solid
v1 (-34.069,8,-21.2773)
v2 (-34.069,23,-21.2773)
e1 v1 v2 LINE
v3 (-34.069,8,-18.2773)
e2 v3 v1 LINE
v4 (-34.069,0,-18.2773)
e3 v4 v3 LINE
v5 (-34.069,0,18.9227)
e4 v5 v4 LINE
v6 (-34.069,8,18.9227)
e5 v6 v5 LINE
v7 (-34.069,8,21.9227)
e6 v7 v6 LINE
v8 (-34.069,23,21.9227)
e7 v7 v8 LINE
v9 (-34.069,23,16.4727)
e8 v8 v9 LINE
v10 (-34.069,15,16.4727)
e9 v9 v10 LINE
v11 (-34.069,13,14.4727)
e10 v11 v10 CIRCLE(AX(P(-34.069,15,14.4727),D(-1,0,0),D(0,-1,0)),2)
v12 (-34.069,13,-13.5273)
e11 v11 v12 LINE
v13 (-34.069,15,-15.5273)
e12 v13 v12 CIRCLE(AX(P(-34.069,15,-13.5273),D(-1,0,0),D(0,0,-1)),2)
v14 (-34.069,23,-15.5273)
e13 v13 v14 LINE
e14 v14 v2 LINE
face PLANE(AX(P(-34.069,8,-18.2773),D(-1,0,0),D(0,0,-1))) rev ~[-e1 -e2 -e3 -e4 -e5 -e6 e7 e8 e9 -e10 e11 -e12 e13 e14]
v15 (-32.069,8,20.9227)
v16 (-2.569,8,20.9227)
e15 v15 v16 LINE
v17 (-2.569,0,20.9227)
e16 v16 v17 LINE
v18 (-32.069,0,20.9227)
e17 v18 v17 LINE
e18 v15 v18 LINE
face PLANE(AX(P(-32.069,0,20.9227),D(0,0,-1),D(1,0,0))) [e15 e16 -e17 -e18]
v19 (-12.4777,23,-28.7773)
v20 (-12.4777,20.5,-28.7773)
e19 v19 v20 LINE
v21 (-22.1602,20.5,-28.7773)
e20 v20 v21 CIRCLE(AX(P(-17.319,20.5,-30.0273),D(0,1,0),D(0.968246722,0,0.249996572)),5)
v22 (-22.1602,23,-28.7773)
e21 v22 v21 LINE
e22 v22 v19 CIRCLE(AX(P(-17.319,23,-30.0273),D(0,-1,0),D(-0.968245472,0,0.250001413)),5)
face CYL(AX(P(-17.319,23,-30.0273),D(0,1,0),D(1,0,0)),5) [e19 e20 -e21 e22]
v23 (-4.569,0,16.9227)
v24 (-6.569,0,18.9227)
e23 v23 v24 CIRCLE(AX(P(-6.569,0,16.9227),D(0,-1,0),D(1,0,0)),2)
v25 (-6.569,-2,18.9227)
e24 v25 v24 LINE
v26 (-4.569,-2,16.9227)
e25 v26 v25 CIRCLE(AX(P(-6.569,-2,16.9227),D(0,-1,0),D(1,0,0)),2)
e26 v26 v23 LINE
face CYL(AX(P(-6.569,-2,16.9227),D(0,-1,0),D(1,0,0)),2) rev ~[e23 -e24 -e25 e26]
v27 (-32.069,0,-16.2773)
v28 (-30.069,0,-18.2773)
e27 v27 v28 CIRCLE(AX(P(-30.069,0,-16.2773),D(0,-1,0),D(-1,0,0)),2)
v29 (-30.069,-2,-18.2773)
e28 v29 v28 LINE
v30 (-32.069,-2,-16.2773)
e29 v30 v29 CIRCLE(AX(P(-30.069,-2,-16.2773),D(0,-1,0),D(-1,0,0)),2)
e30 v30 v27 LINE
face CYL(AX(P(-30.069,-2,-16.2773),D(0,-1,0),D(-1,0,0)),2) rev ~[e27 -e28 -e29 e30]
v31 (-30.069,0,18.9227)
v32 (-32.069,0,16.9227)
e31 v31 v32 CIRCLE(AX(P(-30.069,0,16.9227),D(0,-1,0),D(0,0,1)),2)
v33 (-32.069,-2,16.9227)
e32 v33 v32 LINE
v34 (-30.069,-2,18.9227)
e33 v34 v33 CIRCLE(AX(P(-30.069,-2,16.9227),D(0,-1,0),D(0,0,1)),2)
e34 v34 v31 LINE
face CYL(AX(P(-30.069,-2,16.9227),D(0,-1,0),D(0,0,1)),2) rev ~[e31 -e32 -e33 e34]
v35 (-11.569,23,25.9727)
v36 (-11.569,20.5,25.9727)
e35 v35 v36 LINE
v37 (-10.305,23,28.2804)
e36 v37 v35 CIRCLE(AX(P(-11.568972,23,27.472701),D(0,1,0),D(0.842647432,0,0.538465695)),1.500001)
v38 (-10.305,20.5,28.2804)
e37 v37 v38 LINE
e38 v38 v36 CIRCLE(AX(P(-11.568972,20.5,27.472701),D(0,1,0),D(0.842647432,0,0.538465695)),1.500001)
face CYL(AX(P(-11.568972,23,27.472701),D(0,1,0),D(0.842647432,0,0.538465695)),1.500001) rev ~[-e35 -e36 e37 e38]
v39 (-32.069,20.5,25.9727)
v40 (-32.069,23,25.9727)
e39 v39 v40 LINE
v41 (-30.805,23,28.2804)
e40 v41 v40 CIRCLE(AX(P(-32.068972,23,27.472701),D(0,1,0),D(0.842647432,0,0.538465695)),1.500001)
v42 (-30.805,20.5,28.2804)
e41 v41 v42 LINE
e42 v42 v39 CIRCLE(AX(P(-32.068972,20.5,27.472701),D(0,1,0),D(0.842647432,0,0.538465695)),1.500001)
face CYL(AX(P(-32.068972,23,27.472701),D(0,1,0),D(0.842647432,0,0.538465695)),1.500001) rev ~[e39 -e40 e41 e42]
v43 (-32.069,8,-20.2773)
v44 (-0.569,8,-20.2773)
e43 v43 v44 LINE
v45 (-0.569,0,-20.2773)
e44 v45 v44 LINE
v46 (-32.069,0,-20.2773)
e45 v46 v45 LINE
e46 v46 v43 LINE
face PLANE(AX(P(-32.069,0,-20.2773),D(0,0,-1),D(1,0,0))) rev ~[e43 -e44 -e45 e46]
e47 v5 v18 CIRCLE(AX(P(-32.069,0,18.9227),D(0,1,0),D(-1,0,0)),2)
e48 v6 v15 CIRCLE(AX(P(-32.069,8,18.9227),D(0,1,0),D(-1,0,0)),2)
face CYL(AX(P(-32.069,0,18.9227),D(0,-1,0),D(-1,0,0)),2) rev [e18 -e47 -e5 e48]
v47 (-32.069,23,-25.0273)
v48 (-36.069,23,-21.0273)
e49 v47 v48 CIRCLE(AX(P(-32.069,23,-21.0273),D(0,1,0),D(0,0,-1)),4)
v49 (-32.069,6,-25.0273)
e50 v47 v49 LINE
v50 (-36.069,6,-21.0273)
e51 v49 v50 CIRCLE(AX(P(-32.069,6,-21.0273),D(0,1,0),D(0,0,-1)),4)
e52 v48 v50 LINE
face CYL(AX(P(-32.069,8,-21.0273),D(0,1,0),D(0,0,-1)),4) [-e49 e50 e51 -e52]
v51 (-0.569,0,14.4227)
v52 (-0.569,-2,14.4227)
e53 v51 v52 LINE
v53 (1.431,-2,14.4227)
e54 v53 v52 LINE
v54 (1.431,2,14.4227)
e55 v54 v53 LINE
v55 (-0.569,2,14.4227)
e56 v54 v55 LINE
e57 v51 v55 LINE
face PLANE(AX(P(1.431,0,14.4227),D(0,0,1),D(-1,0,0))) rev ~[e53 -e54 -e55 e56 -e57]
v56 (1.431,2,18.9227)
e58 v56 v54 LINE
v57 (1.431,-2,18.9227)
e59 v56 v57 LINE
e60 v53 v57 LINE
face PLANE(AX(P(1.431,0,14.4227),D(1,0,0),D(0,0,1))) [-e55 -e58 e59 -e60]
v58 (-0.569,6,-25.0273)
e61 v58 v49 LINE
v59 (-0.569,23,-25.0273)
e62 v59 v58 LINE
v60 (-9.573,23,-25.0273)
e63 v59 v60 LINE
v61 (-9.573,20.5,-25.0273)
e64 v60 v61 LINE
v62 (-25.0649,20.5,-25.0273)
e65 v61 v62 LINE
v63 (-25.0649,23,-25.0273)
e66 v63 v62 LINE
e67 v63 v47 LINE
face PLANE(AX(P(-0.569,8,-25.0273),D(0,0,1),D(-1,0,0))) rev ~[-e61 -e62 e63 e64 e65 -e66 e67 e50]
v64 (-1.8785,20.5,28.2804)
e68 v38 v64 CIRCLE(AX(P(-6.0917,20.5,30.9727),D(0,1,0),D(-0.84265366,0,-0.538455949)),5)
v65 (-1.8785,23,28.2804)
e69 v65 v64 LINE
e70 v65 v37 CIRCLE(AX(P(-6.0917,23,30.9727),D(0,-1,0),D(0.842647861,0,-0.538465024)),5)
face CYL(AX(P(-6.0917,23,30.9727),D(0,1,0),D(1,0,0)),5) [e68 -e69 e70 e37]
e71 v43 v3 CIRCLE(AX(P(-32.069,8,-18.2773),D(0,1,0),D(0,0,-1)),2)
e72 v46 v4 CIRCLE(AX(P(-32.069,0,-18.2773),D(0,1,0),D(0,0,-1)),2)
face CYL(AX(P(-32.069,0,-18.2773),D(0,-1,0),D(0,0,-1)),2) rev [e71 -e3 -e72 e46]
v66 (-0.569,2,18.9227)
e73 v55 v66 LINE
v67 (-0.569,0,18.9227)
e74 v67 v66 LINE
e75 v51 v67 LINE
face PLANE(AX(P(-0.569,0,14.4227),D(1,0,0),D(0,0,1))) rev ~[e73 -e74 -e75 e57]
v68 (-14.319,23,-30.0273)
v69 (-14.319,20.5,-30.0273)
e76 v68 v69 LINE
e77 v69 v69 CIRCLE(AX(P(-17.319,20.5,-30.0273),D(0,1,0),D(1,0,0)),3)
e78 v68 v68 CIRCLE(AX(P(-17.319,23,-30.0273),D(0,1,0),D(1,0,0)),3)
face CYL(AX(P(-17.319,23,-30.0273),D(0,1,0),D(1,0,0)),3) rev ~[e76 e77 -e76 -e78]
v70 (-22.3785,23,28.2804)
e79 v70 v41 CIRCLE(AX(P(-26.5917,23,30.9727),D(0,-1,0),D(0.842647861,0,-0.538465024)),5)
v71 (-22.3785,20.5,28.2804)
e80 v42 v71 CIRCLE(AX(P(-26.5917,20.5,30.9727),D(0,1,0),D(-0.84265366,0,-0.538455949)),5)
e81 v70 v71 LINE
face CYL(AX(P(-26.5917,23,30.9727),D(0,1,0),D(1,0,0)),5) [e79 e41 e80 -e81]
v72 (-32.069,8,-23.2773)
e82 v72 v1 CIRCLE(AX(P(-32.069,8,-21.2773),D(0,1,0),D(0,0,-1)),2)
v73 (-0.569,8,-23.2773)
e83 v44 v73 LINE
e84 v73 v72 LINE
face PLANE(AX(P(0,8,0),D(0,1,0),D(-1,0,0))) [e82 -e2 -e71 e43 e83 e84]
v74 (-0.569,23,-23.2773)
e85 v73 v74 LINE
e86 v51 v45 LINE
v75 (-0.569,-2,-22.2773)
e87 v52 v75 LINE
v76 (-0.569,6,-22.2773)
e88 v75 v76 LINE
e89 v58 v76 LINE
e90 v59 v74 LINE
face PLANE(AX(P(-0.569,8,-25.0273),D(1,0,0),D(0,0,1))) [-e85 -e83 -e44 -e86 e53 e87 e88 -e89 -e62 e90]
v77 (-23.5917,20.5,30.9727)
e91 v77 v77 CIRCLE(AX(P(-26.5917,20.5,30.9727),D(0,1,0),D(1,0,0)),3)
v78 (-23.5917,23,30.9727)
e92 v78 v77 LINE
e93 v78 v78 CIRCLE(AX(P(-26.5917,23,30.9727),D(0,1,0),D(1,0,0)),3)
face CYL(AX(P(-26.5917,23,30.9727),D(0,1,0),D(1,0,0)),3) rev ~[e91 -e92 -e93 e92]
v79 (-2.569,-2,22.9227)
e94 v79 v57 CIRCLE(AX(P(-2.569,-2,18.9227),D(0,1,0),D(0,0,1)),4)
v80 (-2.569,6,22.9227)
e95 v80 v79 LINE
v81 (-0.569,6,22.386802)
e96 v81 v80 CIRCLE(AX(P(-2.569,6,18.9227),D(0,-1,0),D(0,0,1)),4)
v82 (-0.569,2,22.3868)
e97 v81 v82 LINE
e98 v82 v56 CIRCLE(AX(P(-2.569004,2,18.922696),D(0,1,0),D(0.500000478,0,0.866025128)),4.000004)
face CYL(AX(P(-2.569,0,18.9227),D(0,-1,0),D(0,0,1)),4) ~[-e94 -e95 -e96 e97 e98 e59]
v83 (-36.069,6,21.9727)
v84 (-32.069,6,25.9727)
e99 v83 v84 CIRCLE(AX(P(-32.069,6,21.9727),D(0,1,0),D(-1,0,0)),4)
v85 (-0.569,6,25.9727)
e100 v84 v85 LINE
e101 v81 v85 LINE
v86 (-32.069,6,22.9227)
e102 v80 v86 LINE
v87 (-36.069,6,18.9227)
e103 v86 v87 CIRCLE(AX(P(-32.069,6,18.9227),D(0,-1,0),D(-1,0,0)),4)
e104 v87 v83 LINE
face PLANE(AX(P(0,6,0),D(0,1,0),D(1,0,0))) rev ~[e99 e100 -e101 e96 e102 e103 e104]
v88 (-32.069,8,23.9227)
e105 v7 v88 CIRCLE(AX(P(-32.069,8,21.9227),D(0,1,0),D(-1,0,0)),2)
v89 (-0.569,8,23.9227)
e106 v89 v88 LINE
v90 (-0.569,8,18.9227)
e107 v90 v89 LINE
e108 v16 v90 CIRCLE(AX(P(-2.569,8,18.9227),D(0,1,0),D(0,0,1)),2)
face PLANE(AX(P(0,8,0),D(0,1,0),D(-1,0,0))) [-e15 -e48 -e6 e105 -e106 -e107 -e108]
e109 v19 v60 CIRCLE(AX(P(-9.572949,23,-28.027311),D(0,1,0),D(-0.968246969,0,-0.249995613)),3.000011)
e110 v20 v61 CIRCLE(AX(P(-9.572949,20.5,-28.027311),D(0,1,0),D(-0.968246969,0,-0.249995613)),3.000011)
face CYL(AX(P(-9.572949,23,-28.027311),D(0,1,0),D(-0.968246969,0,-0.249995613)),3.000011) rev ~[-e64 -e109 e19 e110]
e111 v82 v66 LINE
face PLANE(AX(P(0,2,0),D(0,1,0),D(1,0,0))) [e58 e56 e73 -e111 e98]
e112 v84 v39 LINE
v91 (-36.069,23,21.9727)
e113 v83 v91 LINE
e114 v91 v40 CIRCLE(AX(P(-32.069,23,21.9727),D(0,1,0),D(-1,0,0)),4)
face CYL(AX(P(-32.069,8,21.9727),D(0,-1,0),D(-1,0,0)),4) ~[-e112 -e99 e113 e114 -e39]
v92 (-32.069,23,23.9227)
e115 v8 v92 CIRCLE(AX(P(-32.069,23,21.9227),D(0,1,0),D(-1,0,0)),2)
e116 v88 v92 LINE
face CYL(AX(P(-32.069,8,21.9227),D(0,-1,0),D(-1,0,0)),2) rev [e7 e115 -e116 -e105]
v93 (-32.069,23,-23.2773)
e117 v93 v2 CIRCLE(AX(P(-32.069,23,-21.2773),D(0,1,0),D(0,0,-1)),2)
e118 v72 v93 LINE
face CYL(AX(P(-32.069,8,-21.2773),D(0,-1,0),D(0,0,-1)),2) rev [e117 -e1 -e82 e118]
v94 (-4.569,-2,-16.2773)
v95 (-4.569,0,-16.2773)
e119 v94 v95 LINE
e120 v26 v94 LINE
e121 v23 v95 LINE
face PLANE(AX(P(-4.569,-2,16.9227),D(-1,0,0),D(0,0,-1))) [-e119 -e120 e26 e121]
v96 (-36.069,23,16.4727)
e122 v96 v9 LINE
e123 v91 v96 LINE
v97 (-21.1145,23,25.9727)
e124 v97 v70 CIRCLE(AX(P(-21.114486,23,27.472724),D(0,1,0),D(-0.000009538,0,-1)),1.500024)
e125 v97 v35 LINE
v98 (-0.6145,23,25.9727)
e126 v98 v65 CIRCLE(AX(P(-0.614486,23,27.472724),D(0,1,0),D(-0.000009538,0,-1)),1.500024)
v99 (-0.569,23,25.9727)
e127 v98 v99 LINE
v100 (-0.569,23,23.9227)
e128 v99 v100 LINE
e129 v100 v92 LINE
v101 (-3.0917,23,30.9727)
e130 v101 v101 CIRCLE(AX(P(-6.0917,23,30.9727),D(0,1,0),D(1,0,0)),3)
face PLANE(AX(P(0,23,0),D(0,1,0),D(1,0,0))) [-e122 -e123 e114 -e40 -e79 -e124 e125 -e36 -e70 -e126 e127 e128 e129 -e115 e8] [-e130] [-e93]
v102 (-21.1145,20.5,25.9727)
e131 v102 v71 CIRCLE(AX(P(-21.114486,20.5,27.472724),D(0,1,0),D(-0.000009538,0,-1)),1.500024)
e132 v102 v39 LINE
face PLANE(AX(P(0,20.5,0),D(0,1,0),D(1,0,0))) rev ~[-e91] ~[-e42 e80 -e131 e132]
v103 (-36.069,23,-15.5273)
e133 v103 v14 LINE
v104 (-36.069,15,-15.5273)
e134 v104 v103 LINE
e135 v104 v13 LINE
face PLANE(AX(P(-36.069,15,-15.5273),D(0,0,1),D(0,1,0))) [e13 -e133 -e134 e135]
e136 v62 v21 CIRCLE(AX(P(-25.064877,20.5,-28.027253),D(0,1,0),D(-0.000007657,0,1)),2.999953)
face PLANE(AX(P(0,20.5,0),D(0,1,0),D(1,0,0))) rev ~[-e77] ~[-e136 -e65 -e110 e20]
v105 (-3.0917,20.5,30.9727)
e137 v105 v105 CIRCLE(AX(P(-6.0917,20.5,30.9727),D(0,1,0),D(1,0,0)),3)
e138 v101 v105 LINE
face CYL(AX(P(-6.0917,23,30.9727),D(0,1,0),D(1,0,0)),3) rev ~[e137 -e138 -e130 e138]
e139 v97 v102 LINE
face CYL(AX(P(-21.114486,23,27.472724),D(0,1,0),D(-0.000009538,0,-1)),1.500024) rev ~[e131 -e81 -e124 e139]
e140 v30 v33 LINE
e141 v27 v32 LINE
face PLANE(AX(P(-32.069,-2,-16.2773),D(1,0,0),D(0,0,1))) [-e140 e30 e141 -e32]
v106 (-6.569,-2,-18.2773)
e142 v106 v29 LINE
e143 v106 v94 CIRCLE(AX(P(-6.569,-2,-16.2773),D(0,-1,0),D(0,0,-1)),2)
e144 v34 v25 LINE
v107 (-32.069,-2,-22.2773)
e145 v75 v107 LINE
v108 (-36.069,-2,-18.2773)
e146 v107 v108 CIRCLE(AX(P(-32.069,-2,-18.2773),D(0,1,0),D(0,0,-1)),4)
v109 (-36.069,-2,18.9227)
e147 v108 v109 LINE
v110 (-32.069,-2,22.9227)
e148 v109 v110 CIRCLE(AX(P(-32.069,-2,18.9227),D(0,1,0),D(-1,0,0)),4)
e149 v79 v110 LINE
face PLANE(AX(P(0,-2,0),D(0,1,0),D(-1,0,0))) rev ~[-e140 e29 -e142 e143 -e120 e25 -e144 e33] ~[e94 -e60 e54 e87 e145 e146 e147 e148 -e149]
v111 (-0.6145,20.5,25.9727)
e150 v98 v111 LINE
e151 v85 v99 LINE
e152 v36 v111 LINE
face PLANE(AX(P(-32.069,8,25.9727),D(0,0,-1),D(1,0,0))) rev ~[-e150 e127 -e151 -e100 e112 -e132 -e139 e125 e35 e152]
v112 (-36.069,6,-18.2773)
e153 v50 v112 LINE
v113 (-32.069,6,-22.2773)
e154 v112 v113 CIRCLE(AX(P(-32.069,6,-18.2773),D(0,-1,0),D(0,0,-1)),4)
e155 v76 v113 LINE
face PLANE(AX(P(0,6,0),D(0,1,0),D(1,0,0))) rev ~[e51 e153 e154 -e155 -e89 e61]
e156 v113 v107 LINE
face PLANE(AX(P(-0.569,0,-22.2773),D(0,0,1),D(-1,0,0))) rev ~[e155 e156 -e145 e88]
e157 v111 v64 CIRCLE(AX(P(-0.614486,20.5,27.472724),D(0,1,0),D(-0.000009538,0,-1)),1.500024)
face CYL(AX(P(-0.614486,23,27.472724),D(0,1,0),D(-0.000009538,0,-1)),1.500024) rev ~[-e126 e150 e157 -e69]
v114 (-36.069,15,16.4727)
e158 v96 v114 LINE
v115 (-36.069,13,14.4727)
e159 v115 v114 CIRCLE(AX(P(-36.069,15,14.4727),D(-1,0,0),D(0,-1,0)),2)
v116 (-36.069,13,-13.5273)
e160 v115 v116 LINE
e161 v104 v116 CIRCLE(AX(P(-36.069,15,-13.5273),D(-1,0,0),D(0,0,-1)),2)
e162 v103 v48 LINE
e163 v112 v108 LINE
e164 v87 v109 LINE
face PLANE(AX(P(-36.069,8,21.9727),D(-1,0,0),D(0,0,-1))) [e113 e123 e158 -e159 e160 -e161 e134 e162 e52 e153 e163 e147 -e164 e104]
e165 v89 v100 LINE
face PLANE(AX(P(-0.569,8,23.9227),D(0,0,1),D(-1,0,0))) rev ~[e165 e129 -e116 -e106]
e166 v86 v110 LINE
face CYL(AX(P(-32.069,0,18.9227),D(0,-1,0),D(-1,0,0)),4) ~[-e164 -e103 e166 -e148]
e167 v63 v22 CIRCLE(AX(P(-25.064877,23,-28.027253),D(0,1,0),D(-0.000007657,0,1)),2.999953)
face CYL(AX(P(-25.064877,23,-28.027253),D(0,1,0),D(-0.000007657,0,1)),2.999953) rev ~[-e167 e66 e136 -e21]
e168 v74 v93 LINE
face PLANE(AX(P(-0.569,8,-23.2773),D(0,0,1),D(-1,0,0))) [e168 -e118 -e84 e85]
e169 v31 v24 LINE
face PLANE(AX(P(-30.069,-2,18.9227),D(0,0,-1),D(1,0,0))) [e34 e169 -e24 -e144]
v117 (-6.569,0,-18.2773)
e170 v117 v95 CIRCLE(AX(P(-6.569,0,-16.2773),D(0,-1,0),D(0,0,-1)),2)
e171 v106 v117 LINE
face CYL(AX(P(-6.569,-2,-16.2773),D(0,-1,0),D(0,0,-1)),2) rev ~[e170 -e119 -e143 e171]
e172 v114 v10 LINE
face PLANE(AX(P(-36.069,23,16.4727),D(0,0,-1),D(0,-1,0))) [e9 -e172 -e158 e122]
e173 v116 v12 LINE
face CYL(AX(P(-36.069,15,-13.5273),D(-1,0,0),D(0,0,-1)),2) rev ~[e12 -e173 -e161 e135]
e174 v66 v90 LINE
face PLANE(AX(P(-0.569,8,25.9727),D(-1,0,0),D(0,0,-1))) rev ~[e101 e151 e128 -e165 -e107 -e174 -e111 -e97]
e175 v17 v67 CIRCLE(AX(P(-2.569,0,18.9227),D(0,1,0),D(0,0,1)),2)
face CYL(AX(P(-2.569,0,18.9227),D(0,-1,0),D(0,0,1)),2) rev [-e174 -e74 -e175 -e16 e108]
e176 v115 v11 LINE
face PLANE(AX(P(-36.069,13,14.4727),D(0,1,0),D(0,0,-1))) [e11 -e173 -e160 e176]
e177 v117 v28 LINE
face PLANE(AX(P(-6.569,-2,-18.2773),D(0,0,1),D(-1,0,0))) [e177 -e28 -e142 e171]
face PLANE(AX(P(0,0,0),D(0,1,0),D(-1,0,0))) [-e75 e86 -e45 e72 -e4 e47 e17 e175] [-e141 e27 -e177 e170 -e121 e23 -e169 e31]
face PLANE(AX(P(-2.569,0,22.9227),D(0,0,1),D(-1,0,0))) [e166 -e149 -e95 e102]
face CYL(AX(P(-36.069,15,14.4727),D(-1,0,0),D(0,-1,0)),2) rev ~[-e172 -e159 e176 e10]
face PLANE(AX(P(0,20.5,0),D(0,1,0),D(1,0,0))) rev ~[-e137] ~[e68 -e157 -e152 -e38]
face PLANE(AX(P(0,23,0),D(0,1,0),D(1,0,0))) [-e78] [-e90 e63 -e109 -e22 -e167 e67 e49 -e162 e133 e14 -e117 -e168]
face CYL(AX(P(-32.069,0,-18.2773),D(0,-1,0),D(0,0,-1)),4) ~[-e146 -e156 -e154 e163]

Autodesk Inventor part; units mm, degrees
ref_plane "YZ Plane" through (0, 0, 0) normal (1, 0, 0) x (0, 1, 0)
ref_plane "XZ Plane" through (0, 0, 0) normal (0, 1, 0) x (-1, 0, 0)
sketch "Sketch1" plane through (0, 0, 0) normal (0, 1, 0) x (-1, 0, 0)
  arc A0 (31.569, 13.7227) -> (30.069, 12.2227) centre (31.569, 12.2227) ccw
  line L0 (31.569, 13.7227) -> (34.069, 13.7227)
  line L1 (34.069, 13.7227) -> (34.069, 18.9227)
  line L2 (32.069, 20.9227) -> (2.569, 20.9227)
  line L3 (34.069, -13.2773) -> (31.569, -13.2773)
  arc A1 (30.069, -11.7773) -> (31.569, -13.2773) centre (31.569, -11.7773) ccw
  arc A2 (34.069, 18.9227) -> (32.069, 20.9227) centre (32.069, 18.9227) ccw
  arc A3 (34.0195, 22.4149) -> (32.069, 23.9727) centre (32.069, 21.9727) ccw
  line L4 (32.069, 23.9727) -> (-23.931, 23.9727)
  arc A4 (-23.931, 23.9727) -> (-25.931, 21.9727) centre (-23.931, 21.9727) ccw
  line L5 (-25.931, 21.9727) -> (-25.931, -21.0273)
  arc A5 (-25.931, -21.0273) -> (-23.931, -23.0273) centre (-23.931, -21.0273) ccw
  line L6 (-23.931, -23.0273) -> (32.069, -23.0273)
  arc A6 (32.069, -23.0273) -> (33.899, -21.8341) centre (32.069, -21.0273) ccw
  arc A7 (32.069, -20.2773) -> (34.069, -18.2773) centre (32.069, -18.2773) ccw
  line L7 (32.069, -20.2773) -> (0.569, -20.2773)
  line L8 (34.069, -13.2773) -> (34.069, 13.7227)
  line L9 (0.569, -22.2773) -> (0.569, 18.9227)
  line L10 (30.069, -11.7773) -> (30.069, 12.2227)
  line L11 (34.069, -18.2773) -> (34.069, -13.2773)
  line L12 (2.569, 22.9227) -> (32.069, 22.9227)
  line L13 (0.569, -22.2773) -> (32.069, -22.2773)
  arc A8 (32.069, -22.2773) -> (36.069, -18.2773) centre (32.069, -18.2773) ccw
  line L14 (36.069, -18.2773) -> (36.069, 18.9227)
  arc A9 (2.569, 20.9227) -> (0.569, 18.9227) centre (2.569, 18.9227) ccw
  line L15 (-1.431, 14.4227) -> (-1.431, 18.9227)
  arc A10 (2.569, 22.9227) -> (-1.431, 18.9227) centre (2.569, 18.9227) ccw
  arc A11 (36.069, 18.9227) -> (32.069, 22.9227) centre (32.069, 18.9227) ccw
  line L16 (-1.431, 14.4227) -> (0.569, 14.4227)
  point P0 (0.569, 20.9227)
  dimension "d8" = 2
  dimension "d9" = 2
  dimension "d66" = 2
  dimension "d67" = 2
  dimension "d68" = 4.5
  dimension "d69" = 4
extrude "Extrusion3" add sketch "Sketch1" against normal blind 2 contours L0 L8 L3 A1 L10 A0 | A0 L10 A1 L3 L11 A7 L7 L9 A9 L2 A2 L1 L0 | L1 A2 L2 A9 L9 L16 L15 A10 L12 A11 L14 A8 L13 L7 A7 L11 L8
ref_plane "Work Plane1" through (0, 8, 0) normal (0, 1, 0) x (1, 0, 0)
extrude "Extrusion4" add sketch "Sketch1" along normal blind 8 contours L1 A2 L2 A9 L9 L16 L15 A10 L12 A11 L14 A8 L13 L7 A7 L11 L8
sketch "Sketch2" plane through (0, 8, 0) normal (0, 1, 0) x (1, 0, 0)
  line L0 (-0.569, 22.2773) -> (-0.569, 22.2773) projected
  line L1 (-0.569, 22.2773) -> (-0.569, 22.2773)
  line L2 (-36.069, -21.9727) -> (-36.069, 21.0273)
  line L3 (-32.069, -25.9727) -> (-0.569, -25.9727)
  line L4 (-0.569, -14.4227) -> (-0.569, -18.9227) projected
  line L5 (-0.569, -25.9727) -> (-0.569, -18.9227)
  line L6 (-0.569, -14.4227) -> (-0.569, 20.2773) projected
  line L7 (-0.569, 25.0273) -> (-32.069, 25.0273)
  line L8 (-0.569, 23.2773) -> (-32.069, 23.2773)
  line L9 (-32.069, 22.2773) -> (-0.569, 22.2773) projected
  arc A0 (-36.069, -21.9727) -> (-32.069, -25.9727) centre (-32.069, -21.9727) ccw
  line L10 (-0.569, -23.9227) -> (-32.069, -23.9227)
  line L11 (-34.069, -21.9227) -> (-34.069, 21.2773)
  line L12 (-34.069, 18.2773) -> (-34.069, -18.9227) projected
  arc A1 (-32.069, 23.2773) -> (-34.069, 21.2773) centre (-32.069, 21.2773) ccw
  arc A2 (-32.069, 25.0273) -> (-36.069, 21.0273) centre (-32.069, 21.0273) ccw
  arc A3 (-34.069, -21.9227) -> (-32.069, -23.9227) centre (-32.069, -21.9227) ccw
  line L13 (-34.069, -18.9227) -> (-34.069, 18.2773) projected
  line L14 (-36.069, 18.2773) -> (-36.069, -18.9227) projected
  line L15 (-32.069, 20.2773) -> (-0.569, 20.2773) projected
  line L16 (-2.569, -20.9227) -> (-32.069, -20.9227) projected
  line L17 (-32.069, -22.9227) -> (-2.569, -22.9227) projected
  line L18 (-0.569, 25.0273) -> (-0.569, 22.2773)
  line L19 (-0.569, 20.2773) -> (-0.569, 22.2773) projected
  line L20 (-0.569, 20.2773) -> (-32.069, 20.2773) projected
  arc A4 (-32.069, 20.2773) -> (-34.069, 18.2773) centre (-32.069, 18.2773) ccw projected
  line L21 (-34.069, 18.2773) -> (-34.069, -18.9227) projected
  arc A5 (-34.069, -18.9227) -> (-32.069, -20.9227) centre (-32.069, -18.9227) ccw projected
  line L22 (-32.069, -20.9227) -> (-2.569, -20.9227) projected
  arc A6 (-2.569, -20.9227) -> (-0.569, -18.9227) centre (-2.569, -18.9227) ccw projected
  line L23 (-0.569, -18.9227) -> (-0.569, -14.4227) projected
  line L24 (-0.569, -14.4227) -> (-0.569, 20.2773) projected
  dimension "d79" = 43
  dimension "d80" = 31.5
  dimension "d81" = 4
  dimension "d83" = 4.75
  dimension "d85" = 1
  dimension "d87" = 1
extrude "Extrusion7" add sketch "Sketch2" against normal blind 2 contours L2 A2 L7 L18 L8 A1 L11 A3 L10 L5 L3 A0 | L10 A3 L11 A5 L16 A6 L5 | L18 L19 L15 A4 L11 A1 L8
extrude "Extrusion8" add sketch "Sketch2" along normal blind 15 contours L2 A2 L7 L18 L8 A1 L11 A3 L10 L5 L3 A0
sketch "Sketch5" plane through (0, 23, 0) normal (0, 1, 0) x (1, 0, 0)
  circle A0 centre (-17.319, 30.0273) radius 5
  circle A1 centre (-17.319, 30.0273) radius 3
  arc A2 (-12.4777, 28.7773) -> (-9.573, 25.0273) centre (-9.573, 28.0273) ccw
  arc A3 (-25.0649, 25.0273) -> (-22.1602, 28.7773) centre (-25.0649, 28.0273) ccw
  circle A4 centre (-6.0917, -30.9727) radius 5
  circle A5 centre (-6.0917, -30.9727) radius 3
  arc A6 (-10.305, -28.2804) -> (-11.569, -25.9727) centre (-11.569, -27.4727) ccw
  arc A7 (-0.6145, -25.9727) -> (-1.8785, -28.2804) centre (-0.6145, -27.4727) ccw
  circle A8 centre (-26.5917, -30.9727) radius 5
  circle A9 centre (-26.5917, -30.9727) radius 3
  arc A10 (-21.1145, -25.9727) -> (-22.3785, -28.2804) centre (-21.1145, -27.4727) ccw
  line L0 (-11.569, -25.9727) -> (-0.6145, -25.9727)
  arc A11 (-30.805, -28.2804) -> (-32.069, -25.9727) centre (-32.069, -27.4727) ccw
  line L1 (-32.069, -25.9727) -> (-0.569, -25.9727) projected
  arc A12 (-36.069, -21.9727) -> (-32.069, -25.9727) centre (-32.069, -21.9727) ccw projected
  line L2 (-0.569, -22.3868) -> (-0.569, -25.9727) projected
  line L3 (-32.069, -25.9727) -> (-0.569, -25.9727)
  line L4 (-0.569, 25.0273) -> (-32.069, 25.0273) projected
  line L5 (-36.069, 21.0273) -> (-36.069, -21.9727) projected
  point P0 (0, 0)
  point P1 (-6.0917, -25.9727)
  point P2 (-26.5917, -25.9727)
  dimension "d34" = 10
  dimension "d35" = 6
  dimension "d38" = 3
  dimension "d39" = 3
  dimension "d40" = 10
  dimension "d41" = 6
  dimension "d42" = 3
  dimension "d43" = 3
  dimension "d44" = 10
  dimension "d45" = 6
  dimension "d47" = 3
  dimension "d49" = 20.5
  dimension "d88" = 3
  dimension "d89" = 18.75
extrude "Extrusion10" add sketch "Sketch5" against normal blind 2.5
sketch "Sketch6" plane through (0, -2, 0) normal (0, -1, 0) x (1, 0, 0)
  line L0 (-0.569, -22.2773) -> (-0.569, 14.4227) projected
  line L1 (-2.569, 22.9227) -> (-32.069, 22.9227) projected
  arc A0 (-32.069, 22.9227) -> (-36.069, 18.9227) centre (-32.069, 18.9227) ccw projected
  line L2 (-36.069, 18.9227) -> (-36.069, -18.2773) projected
  arc A1 (-36.069, -18.2773) -> (-32.069, -22.2773) centre (-32.069, -18.2773) ccw projected
  line L3 (-32.069, -22.2773) -> (-0.569, -22.2773) projected
  line L4 (-30.069, 18.9227) -> (-6.569, 18.9227)
  line L5 (-4.569, 16.9227) -> (-4.569, -16.2773)
  line L6 (-6.569, -18.2773) -> (-30.069, -18.2773)
  line L7 (-32.069, -16.2773) -> (-32.069, 16.9227)
  arc A2 (-6.569, -18.2773) -> (-4.569, -16.2773) centre (-6.569, -16.2773) ccw
  arc A3 (-32.069, -16.2773) -> (-30.069, -18.2773) centre (-30.069, -16.2773) ccw
  arc A4 (-30.069, 18.9227) -> (-32.069, 16.9227) centre (-30.069, 16.9227) ccw
  arc A5 (-4.569, 16.9227) -> (-6.569, 18.9227) centre (-6.569, 16.9227) ccw
  line L8 (-0.569, 14.4227) -> (1.431, 14.4227) projected
  line L9 (1.431, 14.4227) -> (1.431, 18.9227) projected
  arc A6 (1.431, 18.9227) -> (-2.569, 22.9227) centre (-2.569, 18.9227) ccw projected
  point P0 (0, 0)
  point P1 (-4.569, 18.9227)
  point P2 (-4.569, -18.2773)
  dimension "d52" = 4
  dimension "d53" = 37.2
  dimension "d54" = 27.5
  dimension "d55" = 4
  dimension "d56" = 2
extrude "Extrusion11" cut sketch "Sketch6" against normal blind 2 contours L4 A5 L5 A2 L6 A3 L7 A4
sketch "Sketch7" plane through (-36.069, -2, -18.2773) normal (-1, 0, 0) x (0, 0, 1)
  line L0 (2.75, 25) -> (34.75, 25)
  line L1 (34.75, 25) -> (34.75, 17)
  line L2 (32.75, 15) -> (4.75, 15)
  line L3 (2.75, 17) -> (2.75, 25)
  arc A0 (2.75, 17) -> (4.75, 15) centre (4.75, 17) ccw
  arc A1 (32.75, 15) -> (34.75, 17) centre (32.75, 17) ccw
  line L4 (40.25, 8) -> (40.25, 25) projected
  line L5 (-2.75, 25) -> (40.25, 25) projected
  point P0 (18.2773, 2)
  point P1 (34.75, 21)
  dimension "d59" = 2
  dimension "d61" = 32
  dimension "d90" = 5.5
  dimension "d91" = 10
extrude "Extrusion12" cut sketch "Sketch7" against normal blind 6
sketch "Sketch8" plane through (0, 8, 0) normal (0, 1, 0) x (1, 0, 0)
  line L0 (-0.569, -14.4227) -> (-0.569, -18.9227) projected
  line L1 (1.431, -14.4227) -> (-0.569, -14.4227) projected
  line L2 (1.431, -18.9227) -> (1.431, -14.4227) projected
  arc A0 (-0.569, -22.3868) -> (1.431, -18.9227) centre (-2.569, -18.9227) ccw projected
  line L3 (-0.569, -23.9727) -> (-0.569, -18.9227) projected
  point P0 (0, 0)
  point P1 (-0.4025, -22.2852)
  point P2 (-0.4025, -22.2852)
  point P3 (-2.569, -22.9227)
  point P4 (-0.569, -22.3868)
extrude "Extrusion13" cut sketch "Sketch8" against normal blind 6
equation "\"shrink\" = 0.25"
properties part number "CO-1-06-motorControllersMount"
